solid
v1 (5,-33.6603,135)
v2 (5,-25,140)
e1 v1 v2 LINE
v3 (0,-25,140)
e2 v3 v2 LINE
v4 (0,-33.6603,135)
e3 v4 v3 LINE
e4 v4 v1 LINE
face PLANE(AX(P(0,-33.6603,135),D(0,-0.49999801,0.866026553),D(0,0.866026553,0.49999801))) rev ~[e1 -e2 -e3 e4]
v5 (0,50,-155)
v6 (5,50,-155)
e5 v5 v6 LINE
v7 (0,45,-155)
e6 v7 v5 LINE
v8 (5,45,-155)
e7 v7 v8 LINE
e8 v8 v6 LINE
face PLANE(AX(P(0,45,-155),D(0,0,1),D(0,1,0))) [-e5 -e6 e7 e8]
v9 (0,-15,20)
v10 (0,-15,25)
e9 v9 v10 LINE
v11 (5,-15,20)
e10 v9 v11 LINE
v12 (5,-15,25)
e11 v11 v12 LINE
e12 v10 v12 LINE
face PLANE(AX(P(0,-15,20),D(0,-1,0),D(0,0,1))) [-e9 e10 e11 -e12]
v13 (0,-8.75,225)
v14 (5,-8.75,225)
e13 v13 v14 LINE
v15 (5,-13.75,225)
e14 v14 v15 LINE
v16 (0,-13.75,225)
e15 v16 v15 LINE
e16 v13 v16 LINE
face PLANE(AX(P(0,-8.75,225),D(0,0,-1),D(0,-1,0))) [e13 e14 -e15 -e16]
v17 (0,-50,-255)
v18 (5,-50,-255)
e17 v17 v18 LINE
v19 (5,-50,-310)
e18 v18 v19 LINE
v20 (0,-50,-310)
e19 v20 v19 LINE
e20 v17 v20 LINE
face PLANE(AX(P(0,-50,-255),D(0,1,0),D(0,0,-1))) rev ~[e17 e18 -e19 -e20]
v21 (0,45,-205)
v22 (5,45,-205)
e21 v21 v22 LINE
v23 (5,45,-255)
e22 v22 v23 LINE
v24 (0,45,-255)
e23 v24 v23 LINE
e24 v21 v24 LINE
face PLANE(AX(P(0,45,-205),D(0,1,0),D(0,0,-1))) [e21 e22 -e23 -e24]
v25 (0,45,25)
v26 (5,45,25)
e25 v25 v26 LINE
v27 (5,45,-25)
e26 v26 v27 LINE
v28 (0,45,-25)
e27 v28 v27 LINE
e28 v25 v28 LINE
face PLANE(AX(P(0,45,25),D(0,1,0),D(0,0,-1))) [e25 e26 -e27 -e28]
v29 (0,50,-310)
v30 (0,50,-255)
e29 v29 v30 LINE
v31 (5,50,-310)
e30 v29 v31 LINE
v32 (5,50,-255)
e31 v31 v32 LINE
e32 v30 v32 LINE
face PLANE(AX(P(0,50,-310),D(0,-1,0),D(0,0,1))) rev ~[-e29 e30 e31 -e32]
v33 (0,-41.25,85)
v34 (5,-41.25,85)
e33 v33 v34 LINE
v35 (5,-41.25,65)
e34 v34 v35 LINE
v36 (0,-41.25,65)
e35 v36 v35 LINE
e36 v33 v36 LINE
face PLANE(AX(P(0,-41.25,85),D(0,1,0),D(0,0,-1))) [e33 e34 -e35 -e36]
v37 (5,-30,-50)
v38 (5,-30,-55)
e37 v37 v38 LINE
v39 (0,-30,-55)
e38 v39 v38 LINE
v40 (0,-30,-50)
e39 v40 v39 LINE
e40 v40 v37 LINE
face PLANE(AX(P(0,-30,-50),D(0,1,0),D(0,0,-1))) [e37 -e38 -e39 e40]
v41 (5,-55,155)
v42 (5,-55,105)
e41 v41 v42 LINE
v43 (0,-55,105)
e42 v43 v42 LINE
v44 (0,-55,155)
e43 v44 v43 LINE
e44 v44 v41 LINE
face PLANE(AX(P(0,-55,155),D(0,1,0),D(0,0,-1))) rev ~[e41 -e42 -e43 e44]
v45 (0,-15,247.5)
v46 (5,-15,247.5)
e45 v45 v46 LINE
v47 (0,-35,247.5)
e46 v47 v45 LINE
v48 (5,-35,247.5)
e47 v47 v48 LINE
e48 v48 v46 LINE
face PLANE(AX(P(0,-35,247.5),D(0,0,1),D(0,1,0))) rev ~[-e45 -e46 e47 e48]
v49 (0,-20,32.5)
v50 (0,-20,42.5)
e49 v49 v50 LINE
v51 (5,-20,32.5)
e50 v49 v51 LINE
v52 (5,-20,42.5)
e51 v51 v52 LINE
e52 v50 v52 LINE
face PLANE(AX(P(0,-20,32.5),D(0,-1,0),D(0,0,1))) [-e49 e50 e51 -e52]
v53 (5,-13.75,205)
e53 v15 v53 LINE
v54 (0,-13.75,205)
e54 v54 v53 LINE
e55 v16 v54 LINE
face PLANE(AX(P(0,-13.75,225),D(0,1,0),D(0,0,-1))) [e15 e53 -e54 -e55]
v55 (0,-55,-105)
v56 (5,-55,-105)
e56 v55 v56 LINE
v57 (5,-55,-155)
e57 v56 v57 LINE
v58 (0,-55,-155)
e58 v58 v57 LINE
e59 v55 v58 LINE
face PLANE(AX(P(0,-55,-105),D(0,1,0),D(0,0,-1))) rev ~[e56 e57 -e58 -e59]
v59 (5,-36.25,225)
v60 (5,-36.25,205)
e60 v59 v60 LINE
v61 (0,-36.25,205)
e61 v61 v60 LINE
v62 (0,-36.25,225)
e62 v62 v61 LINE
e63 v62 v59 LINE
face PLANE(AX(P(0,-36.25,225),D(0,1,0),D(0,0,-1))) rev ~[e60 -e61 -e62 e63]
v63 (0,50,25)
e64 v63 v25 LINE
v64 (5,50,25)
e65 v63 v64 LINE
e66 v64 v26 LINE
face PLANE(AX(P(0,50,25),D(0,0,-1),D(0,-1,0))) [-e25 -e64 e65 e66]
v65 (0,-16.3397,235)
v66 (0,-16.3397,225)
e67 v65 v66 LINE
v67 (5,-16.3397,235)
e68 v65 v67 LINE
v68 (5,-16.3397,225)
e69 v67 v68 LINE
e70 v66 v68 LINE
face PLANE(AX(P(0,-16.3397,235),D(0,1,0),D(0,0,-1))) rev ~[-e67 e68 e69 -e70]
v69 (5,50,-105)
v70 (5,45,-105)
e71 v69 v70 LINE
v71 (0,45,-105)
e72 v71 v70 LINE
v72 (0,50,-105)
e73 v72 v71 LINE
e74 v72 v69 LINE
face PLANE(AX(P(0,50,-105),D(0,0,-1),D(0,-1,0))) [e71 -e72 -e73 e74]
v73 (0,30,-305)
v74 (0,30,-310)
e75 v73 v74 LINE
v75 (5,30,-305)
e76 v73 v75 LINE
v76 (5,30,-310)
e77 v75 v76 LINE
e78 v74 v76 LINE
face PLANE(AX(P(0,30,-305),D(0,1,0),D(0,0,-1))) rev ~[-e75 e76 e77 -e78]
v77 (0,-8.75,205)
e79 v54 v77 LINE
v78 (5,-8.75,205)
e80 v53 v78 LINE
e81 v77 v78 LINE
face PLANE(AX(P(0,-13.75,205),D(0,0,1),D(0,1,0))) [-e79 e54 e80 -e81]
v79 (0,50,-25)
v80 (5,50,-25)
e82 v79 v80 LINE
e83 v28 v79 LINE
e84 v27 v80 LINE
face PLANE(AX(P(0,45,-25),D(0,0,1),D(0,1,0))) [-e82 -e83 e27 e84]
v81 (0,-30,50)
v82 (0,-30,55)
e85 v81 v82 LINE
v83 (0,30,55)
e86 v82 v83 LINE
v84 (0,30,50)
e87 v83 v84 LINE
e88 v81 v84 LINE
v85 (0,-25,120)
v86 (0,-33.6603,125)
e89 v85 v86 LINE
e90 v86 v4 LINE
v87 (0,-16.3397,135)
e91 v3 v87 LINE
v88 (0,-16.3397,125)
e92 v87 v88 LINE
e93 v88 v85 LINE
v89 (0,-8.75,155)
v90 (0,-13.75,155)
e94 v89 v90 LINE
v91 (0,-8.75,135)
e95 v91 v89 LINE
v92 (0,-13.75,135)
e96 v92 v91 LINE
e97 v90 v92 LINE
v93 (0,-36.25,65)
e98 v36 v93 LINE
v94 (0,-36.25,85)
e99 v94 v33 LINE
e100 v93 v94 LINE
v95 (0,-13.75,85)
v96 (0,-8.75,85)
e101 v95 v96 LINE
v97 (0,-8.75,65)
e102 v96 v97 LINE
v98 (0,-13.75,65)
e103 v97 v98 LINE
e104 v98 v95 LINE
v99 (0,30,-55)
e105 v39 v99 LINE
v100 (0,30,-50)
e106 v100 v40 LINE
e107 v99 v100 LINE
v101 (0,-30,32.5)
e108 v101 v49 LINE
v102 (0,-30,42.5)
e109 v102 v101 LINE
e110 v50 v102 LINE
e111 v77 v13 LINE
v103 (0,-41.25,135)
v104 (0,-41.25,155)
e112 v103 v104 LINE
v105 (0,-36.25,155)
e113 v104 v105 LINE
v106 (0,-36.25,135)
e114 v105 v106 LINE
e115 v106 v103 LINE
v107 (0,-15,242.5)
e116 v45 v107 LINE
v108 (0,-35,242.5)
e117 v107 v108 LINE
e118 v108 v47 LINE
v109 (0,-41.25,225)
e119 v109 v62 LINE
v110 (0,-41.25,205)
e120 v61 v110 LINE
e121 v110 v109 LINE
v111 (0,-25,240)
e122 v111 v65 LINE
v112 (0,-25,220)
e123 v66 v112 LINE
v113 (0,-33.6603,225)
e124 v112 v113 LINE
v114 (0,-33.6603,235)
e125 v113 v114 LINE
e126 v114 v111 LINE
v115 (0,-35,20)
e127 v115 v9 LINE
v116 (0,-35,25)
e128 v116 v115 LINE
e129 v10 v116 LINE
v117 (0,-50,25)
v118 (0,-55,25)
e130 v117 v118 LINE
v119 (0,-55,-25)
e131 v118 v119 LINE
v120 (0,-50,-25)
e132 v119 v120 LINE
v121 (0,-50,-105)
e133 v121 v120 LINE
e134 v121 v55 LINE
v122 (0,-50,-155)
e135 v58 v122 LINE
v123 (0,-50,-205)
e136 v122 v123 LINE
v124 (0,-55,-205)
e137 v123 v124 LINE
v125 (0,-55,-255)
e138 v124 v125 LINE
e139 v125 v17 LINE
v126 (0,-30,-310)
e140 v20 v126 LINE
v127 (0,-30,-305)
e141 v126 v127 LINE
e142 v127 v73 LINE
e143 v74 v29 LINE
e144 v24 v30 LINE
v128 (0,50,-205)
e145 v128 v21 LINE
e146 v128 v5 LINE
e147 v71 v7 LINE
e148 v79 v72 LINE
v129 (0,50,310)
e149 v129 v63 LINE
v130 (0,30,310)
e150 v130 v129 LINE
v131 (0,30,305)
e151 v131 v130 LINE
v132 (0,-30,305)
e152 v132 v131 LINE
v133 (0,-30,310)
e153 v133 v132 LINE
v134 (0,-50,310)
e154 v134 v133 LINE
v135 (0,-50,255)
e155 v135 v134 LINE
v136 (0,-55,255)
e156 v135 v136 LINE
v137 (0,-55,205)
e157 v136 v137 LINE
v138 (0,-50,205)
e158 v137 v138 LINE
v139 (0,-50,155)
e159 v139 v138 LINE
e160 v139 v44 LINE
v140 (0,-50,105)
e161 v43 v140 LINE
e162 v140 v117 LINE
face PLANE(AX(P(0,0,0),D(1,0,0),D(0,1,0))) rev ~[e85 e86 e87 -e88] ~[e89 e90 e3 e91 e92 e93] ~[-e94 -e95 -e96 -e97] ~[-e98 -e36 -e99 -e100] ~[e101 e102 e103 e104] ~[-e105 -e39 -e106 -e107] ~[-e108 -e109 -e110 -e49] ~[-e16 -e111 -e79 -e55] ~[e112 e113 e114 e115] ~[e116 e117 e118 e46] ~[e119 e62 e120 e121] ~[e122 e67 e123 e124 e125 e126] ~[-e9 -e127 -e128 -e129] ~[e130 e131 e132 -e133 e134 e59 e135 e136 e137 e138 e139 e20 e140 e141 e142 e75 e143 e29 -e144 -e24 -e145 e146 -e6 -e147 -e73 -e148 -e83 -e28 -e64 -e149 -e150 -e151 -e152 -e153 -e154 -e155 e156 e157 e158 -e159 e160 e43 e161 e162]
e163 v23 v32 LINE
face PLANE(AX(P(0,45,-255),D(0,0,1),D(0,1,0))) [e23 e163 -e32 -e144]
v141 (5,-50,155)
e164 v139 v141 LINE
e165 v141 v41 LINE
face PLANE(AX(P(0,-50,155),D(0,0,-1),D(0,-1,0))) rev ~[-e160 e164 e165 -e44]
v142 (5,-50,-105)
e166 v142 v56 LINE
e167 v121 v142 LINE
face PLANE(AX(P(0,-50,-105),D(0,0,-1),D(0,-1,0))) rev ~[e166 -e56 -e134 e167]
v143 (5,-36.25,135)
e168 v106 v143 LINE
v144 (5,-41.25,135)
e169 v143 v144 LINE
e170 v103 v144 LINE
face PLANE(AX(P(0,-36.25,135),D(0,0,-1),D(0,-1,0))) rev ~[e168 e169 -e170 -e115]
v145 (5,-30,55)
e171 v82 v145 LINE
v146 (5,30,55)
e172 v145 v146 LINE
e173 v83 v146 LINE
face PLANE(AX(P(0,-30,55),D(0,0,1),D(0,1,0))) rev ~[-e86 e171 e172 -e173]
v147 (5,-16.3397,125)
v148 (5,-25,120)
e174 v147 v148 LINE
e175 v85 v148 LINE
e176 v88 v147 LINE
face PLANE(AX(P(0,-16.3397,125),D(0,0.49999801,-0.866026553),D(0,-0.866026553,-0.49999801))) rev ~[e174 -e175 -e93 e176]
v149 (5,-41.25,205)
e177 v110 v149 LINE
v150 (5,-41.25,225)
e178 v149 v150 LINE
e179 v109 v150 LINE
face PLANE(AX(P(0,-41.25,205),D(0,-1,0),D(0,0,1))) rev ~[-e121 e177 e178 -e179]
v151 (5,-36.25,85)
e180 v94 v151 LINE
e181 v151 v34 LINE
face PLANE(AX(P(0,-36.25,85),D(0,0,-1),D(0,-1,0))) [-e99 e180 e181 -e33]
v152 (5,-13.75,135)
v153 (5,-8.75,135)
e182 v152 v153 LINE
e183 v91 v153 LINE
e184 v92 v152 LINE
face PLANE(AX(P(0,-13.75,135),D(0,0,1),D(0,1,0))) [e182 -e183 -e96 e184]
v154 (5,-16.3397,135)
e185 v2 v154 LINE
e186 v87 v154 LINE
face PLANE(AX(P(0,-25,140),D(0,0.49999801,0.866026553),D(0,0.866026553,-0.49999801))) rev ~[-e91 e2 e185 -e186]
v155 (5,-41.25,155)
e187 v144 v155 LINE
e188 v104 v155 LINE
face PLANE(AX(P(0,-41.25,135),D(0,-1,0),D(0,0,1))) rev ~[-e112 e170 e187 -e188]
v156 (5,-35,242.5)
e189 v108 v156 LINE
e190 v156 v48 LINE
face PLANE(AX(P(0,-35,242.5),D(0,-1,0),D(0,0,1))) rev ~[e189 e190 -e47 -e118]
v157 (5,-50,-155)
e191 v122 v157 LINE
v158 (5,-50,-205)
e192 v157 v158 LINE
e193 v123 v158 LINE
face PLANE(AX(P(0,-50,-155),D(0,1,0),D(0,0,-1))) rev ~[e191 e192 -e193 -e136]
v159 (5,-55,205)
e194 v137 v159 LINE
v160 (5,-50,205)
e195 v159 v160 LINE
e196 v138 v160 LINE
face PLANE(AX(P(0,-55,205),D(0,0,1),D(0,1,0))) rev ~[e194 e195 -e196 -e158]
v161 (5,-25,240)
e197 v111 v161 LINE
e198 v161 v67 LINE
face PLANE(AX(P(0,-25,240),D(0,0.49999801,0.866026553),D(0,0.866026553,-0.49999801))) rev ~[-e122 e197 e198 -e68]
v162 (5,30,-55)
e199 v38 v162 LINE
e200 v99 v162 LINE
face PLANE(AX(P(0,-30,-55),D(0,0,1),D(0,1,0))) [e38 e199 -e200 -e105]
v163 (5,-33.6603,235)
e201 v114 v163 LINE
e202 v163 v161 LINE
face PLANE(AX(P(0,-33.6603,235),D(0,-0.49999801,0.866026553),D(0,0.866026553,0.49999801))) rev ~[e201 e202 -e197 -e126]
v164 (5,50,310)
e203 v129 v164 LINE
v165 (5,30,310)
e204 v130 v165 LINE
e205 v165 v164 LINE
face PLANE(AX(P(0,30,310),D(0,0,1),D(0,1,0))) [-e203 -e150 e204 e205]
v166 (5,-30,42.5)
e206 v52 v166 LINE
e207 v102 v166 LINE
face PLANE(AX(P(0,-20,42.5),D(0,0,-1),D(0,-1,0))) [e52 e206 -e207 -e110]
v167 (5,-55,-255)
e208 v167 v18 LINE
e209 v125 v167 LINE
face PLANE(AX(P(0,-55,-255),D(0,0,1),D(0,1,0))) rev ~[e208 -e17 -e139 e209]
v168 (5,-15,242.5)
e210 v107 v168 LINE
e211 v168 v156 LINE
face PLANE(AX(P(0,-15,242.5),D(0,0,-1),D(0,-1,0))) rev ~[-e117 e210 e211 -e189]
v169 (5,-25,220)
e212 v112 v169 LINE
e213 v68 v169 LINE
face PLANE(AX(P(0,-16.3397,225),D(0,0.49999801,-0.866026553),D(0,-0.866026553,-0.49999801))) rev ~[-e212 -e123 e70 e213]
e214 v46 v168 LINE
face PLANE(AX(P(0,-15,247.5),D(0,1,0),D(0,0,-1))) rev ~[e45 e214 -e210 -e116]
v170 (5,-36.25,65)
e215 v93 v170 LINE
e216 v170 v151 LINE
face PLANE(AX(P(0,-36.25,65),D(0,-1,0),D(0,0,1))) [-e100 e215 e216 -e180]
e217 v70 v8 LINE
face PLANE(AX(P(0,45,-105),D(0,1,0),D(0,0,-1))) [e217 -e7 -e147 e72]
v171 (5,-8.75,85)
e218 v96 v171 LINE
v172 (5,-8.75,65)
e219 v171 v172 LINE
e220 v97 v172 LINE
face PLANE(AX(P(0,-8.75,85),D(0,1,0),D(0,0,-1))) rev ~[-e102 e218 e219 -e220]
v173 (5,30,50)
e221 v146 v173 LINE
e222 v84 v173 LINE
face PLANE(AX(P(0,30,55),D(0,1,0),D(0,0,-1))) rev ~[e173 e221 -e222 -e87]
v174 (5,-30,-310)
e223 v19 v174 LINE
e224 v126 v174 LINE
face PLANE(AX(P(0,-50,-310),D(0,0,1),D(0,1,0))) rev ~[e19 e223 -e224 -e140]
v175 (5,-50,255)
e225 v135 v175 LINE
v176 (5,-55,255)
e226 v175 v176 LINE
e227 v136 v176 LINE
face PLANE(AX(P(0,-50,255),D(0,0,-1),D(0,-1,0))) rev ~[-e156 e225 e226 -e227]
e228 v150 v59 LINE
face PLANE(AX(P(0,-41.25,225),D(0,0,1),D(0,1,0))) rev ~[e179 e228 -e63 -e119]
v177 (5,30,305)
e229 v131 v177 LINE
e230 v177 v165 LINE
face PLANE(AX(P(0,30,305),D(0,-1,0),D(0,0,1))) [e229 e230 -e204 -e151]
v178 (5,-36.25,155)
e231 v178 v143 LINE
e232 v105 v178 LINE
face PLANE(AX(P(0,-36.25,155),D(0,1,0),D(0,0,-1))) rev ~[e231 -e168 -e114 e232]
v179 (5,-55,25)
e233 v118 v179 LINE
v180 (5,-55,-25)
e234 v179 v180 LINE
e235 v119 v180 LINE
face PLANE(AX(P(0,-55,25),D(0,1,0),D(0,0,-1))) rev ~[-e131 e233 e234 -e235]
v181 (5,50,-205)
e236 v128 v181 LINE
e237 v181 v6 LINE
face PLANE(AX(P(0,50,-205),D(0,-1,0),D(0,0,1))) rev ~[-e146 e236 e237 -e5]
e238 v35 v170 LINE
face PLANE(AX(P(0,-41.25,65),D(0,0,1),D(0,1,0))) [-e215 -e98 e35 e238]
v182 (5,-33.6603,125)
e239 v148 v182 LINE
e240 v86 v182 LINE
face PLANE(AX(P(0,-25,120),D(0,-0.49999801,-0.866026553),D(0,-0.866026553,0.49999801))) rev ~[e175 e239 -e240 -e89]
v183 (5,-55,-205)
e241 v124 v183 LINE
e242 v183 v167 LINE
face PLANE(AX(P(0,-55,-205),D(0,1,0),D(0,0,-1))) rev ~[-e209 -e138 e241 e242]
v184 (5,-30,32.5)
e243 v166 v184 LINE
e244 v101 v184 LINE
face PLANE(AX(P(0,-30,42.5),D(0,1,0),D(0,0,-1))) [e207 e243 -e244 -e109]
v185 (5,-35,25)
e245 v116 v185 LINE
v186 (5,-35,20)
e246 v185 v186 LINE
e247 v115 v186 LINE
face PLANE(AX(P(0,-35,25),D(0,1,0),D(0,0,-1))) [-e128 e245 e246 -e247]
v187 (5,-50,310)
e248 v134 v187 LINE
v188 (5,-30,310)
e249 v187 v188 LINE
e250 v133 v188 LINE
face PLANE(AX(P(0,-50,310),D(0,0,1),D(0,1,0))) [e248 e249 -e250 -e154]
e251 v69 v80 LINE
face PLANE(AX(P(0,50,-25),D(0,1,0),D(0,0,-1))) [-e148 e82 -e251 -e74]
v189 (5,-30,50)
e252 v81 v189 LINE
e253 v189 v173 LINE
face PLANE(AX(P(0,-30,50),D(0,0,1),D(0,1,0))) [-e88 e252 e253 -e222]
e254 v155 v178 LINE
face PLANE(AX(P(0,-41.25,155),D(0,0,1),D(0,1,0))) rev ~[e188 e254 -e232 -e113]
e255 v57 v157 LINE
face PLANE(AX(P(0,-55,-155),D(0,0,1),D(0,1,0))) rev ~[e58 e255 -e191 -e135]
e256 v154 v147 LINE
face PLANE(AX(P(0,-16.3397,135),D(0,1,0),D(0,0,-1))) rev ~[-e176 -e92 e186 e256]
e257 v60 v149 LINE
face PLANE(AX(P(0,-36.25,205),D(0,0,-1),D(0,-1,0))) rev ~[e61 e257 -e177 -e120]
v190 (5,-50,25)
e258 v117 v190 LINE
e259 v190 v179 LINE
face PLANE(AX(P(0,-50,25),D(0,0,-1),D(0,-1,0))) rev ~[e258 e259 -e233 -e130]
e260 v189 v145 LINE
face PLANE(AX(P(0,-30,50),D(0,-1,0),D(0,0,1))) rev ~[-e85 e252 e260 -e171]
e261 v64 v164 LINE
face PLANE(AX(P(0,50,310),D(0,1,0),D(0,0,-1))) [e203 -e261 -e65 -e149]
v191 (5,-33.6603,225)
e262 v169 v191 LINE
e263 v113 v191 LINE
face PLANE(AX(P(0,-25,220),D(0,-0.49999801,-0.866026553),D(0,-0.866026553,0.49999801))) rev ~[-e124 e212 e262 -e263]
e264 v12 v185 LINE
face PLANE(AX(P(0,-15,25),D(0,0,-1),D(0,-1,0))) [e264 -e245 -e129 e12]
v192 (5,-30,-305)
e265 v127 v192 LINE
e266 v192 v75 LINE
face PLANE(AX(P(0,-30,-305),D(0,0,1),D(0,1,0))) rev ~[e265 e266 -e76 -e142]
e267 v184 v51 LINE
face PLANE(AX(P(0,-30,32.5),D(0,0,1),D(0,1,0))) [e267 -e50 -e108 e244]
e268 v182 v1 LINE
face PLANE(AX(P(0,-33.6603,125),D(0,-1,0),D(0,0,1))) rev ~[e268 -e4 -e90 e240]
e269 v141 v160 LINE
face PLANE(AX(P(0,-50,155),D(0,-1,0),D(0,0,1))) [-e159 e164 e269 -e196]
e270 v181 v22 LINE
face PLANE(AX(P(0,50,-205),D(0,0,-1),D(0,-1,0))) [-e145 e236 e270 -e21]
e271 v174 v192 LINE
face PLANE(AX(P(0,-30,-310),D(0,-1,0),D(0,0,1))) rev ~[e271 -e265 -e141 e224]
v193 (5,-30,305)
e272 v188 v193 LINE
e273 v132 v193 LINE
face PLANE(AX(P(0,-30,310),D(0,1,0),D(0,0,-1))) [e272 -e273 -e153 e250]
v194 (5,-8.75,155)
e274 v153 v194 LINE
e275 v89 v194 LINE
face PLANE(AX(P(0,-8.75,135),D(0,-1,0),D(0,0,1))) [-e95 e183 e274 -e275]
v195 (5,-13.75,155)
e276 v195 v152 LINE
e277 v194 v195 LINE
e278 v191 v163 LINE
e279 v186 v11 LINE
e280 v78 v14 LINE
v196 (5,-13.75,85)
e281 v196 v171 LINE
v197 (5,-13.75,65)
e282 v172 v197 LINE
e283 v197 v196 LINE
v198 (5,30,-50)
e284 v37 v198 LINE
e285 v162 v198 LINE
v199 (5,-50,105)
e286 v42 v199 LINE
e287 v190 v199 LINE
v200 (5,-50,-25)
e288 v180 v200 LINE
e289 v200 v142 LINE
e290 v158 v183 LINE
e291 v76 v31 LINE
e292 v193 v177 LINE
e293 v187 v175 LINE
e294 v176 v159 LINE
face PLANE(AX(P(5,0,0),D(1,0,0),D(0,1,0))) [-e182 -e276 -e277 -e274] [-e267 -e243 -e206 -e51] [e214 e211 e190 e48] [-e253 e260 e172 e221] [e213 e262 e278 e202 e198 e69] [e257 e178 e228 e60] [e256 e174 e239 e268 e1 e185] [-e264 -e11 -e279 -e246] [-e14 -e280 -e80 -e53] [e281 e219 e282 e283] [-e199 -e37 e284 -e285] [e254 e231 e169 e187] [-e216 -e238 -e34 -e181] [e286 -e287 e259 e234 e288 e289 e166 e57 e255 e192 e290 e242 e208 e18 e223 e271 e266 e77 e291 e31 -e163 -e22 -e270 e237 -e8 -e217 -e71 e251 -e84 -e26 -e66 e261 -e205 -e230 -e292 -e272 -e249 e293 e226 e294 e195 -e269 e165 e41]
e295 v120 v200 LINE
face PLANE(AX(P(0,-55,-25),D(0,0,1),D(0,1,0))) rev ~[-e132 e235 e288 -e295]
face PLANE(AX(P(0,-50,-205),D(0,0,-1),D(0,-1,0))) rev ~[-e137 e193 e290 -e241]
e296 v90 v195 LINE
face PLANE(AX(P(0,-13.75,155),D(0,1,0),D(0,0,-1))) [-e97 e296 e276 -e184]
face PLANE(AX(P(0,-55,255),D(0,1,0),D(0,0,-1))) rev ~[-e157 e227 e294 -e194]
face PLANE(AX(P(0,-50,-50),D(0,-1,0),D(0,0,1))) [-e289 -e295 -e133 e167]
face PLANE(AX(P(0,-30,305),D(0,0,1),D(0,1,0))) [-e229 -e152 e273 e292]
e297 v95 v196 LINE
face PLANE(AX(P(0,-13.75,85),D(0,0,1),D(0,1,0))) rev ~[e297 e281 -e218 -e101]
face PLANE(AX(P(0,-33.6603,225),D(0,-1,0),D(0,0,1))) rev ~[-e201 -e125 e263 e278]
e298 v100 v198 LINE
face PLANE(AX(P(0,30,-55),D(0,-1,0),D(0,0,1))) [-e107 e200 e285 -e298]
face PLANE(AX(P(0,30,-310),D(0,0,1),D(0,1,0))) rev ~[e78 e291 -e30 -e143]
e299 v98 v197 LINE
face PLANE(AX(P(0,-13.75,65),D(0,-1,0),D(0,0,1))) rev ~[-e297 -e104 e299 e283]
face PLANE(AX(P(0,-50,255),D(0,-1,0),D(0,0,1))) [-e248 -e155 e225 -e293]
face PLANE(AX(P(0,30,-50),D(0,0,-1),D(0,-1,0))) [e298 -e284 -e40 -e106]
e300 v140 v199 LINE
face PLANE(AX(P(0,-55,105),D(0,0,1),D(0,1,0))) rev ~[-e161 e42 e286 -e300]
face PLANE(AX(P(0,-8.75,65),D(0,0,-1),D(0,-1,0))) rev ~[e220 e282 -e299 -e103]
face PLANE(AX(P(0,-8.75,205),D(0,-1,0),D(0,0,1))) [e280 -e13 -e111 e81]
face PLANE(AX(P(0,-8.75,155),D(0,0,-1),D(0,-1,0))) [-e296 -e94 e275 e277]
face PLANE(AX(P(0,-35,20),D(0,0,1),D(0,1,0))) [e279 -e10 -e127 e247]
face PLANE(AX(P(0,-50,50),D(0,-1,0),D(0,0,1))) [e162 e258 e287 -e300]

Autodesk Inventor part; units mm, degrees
ref_plane "YZ Plane" through (0, 0, 0) normal (1, 0, 0) x (0, 1, 0)
ref_plane "XZ Plane" through (0, 0, 0) normal (0, 1, 0) x (-1, 0, 0)
ref_plane "XY Plane" through (0, 0, 0) normal (0, 0, 1) x (1, 0, 0)
sketch "Sketch1" plane through (0, 0, 0) normal (1, 0, 0) x (0, 1, 0)
  line L0 (-50, 50) -> (50, 50)
  line L1 (50, 50) -> (50, -50)
  line L2 (50, -50) -> (-50, -50)
  line L3 (-50, -50) -> (-50, 50)
  line L4 (-50, 50) -> (50, -50) construction
  line L5 (50, 50) -> (-50, -50) construction
  line L6 (50, 50) -> (-50, 50)
  line L7 (-50, 50) -> (-50, 310)
  line L8 (-50, 310) -> (50, 310)
  line L9 (50, 310) -> (50, 50)
  line L10 (50, -50) -> (-50, -50)
  line L11 (-50, -50) -> (-50, -310)
  line L12 (-50, -310) -> (50, -310)
  line L13 (50, -310) -> (50, -50)
  line L14 (-50, 255) -> (-55, 255)
  line L15 (-55, 255) -> (-55, 205)
  line L16 (-55, 205) -> (-50, 205)
  line L17 (-50, 205) -> (-50, 255)
  line L18 (-50, 155) -> (-55, 155)
  line L19 (-55, 155) -> (-55, 105)
  line L20 (-55, 105) -> (-50, 105)
  line L21 (-50, 105) -> (-50, 155)
  line L22 (-50, 25) -> (-55, 25)
  line L23 (-55, 25) -> (-55, -25)
  line L24 (-55, -25) -> (-50, -25)
  line L25 (-50, -25) -> (-50, 25)
  line L26 (-50, -105) -> (-55, -105)
  line L27 (-55, -105) -> (-55, -155)
  line L28 (-55, -155) -> (-50, -155)
  line L29 (-50, -155) -> (-50, -105)
  line L30 (-50, -205) -> (-55, -205)
  line L31 (-55, -205) -> (-55, -255)
  line L32 (-55, -255) -> (-50, -255)
  line L33 (-50, -255) -> (-50, -205)
  line L34 (50, 310) -> (30, 310)
  line L35 (50, 305) -> (50, 310)
  line L36 (-50, 310) -> (-30, 310)
  line L37 (-50, 305) -> (-50, 310)
  line L38 (30, 50) -> (-30, 50)
  line L39 (-30, 50) -> (-30, 55)
  line L40 (-30, 55) -> (30, 55)
  line L41 (30, 55) -> (30, 50)
  line L42 (30, -50) -> (-21.1124, -50)
  line L43 (50, 0) -> (-50, 0) construction
  line L44 (-30, -50) -> (-30, -55)
  line L45 (-30, -55) -> (30, -55)
  line L46 (30, -55) -> (30, -50)
  line L47 (30, 310) -> (-30, 310)
  line L48 (-30, 310) -> (-30, 305)
  line L49 (-30, 305) -> (30, 305)
  line L50 (30, 305) -> (30, 310)
  line L51 (-30, -310) -> (-30, -305)
  line L52 (-30, -305) -> (30, -305)
  line L53 (30, -305) -> (30, -310)
  line L54 (50, 25) -> (45, 25)
  line L55 (45, 25) -> (45, -25)
  line L56 (45, -25) -> (50, -25)
  line L57 (50, -25) -> (50, 25)
  line L58 (50, -105) -> (45, -105)
  line L59 (45, -105) -> (45, -155)
  line L60 (45, -155) -> (50, -155)
  line L61 (50, -155) -> (50, -105)
  line L62 (50, -205) -> (45, -205)
  line L63 (45, -205) -> (45, -255)
  line L64 (45, -255) -> (50, -255)
  line L65 (50, -255) -> (50, -205)
  line L66 (-33.6603, 235) -> (-25, 240)
  line L67 (-25, 240) -> (-16.3397, 235)
  line L68 (-16.3397, 235) -> (-16.3397, 225)
  line L69 (-16.3397, 225) -> (-25, 220)
  line L70 (-25, 220) -> (-33.6603, 225)
  line L71 (-33.6603, 225) -> (-33.6603, 235)
  line L72 (-33.6603, 135) -> (-25, 140)
  line L73 (-25, 140) -> (-16.3397, 135)
  line L74 (-16.3397, 135) -> (-16.3397, 125)
  line L75 (-16.3397, 125) -> (-25, 120)
  line L76 (-25, 120) -> (-33.6603, 125)
  line L77 (-33.6603, 125) -> (-33.6603, 135)
  line L78 (-8.75, 225) -> (-13.75, 225)
  line L79 (-13.75, 225) -> (-13.75, 205)
  line L80 (-13.75, 205) -> (-8.75, 205)
  line L81 (-8.75, 205) -> (-8.75, 225)
  line L82 (-13.75, 135) -> (-8.75, 135)
  line L83 (-8.75, 135) -> (-8.75, 155)
  line L84 (-8.75, 155) -> (-13.75, 155)
  line L85 (-13.75, 155) -> (-13.75, 135)
  line L86 (-13.75, 85) -> (-8.75, 85)
  line L87 (-8.75, 85) -> (-8.75, 65)
  line L88 (-8.75, 65) -> (-13.75, 65)
  line L89 (-13.75, 65) -> (-13.75, 85)
  line L90 (-15, 242.5) -> (-35, 242.5)
  line L91 (-35, 242.5) -> (-35, 247.5)
  line L92 (-35, 247.5) -> (-15, 247.5)
  line L93 (-15, 247.5) -> (-15, 242.5)
  line L94 (-25, 361.7934) -> (-25, -98.4217) construction
  line L95 (-41.25, 65) -> (-36.25, 65)
  line L96 (-36.25, 65) -> (-36.25, 85)
  line L97 (-36.25, 85) -> (-41.25, 85)
  line L98 (-41.25, 85) -> (-41.25, 65)
  line L99 (-36.25, 135) -> (-41.25, 135)
  line L100 (-36.25, 155) -> (-36.25, 135)
  line L101 (-41.25, 135) -> (-41.25, 155)
  line L102 (-41.25, 155) -> (-36.25, 155)
  line L103 (-36.25, 205) -> (-41.25, 205)
  line L104 (-36.25, 225) -> (-36.25, 205)
  line L105 (-41.25, 225) -> (-36.25, 225)
  line L106 (-41.25, 205) -> (-41.25, 225)
  line L107 (-35, 20) -> (-15, 20)
  line L108 (-15, 20) -> (-15, 25)
  line L109 (-15, 25) -> (-35, 25)
  line L110 (-35, 25) -> (-35, 20)
  line L111 (-20, 42.5) -> (-30, 42.5)
  line L112 (-30, 42.5) -> (-30, 32.5)
  line L113 (-30, 32.5) -> (-20, 32.5)
  line L114 (-20, 32.5) -> (-20, 42.5)
  point P0 (0, 0)
  point P1 (-52.5, 155)
  point P2 (-52.5, 205)
  point P3 (-50, 205)
  point P4 (-50, 105)
  point P5 (-50, -155)
  point P6 (-50, -255)
  point P7 (30, -50)
  point P8 (-30, -50)
  point P9 (30, 50)
  point P10 (30, 307.5)
  point P11 (-30, -310)
  point P12 (30, 310)
  point P13 (-30, 310)
  point P14 (50, -25)
  point P15 (50, -255)
  point P16 (50, -155)
  point P17 (-25, 230)
  point P18 (-25, 130)
  point P19 (-13.75, 145)
  point P20 (-15, 245)
  point P21 (-36.25, 145)
  point P22 (-20, 37.5)
  dimension "d0" = 100
  dimension "d1" = 260
  dimension "d2" = 100
  dimension "d3" = 260
  dimension "d4" = 50
  dimension "d5" = 50
  dimension "d6" = 50
  dimension "d7" = 50
  dimension "d8" = 50
  dimension "d9" = 55
  dimension "d10" = 50
  dimension "d11" = 25
  dimension "d12" = 55
  dimension "d13" = 50
  dimension "d14" = 5
  dimension "d20" = 5
  dimension "d21" = 5
  dimension "d23" = 20
  dimension "d24" = 50
  dimension "d25" = 5
  dimension "d26" = 20
  dimension "d27" = 10
  dimension "d28" = 25
  dimension "d29" = 16.3397
  dimension "d30" = 25
  dimension "d31" = 10
  dimension "d32" = 25
  dimension "d33" = 16.3397
  dimension "d34" = 25
  dimension "d38" = 20
  dimension "d40" = 5
  dimension "d41" = 20
  dimension "d42" = 5
  dimension "d45" = 20
  dimension "d46" = 5
  dimension "d48" = 20
  dimension "d49" = 5
  dimension "d51" = 25
  dimension "d52" = 50
  dimension "d53" = 50
  dimension "d54" = 11.25
  dimension "d55" = 12.5
  dimension "d56" = 10
  dimension "d57" = 20
  dimension "d58" = 5
  dimension "d59" = 40
  dimension "d60" = 10
  dimension "d61" = 10
  dimension "d62" = 10
  dimension "d63" = 5
  dimension "d64" = 7.5
extrude "Extrusion1" add sketch "Sketch1" along normal blind 5 contours L7 L8 L48 L49 L50 L9 L0 L41 L40 L39 | L0 L1 L54 L55 L56 L2 L3 | L3 L24 L23 L22 | L20 L19 L18 L7 | L2 L44 L45 L46 L13 L58 L59 L60 L62 L63 L64 L12 L53 L52 L51 L11 | L16 L15 L14 L7 | L11 L28 L27 L26 | L11 L32 L31 L30
equation "\"BendRadius\" = Thickness"
equation "\"BendReliefWidth\" = Thickness"
equation "\"BendReliefDepth\" = 0.5 * Thickness"
equation "\"CornerReliefSize\" = 4 * Thickness"
equation "\"MinimumRemnant\" = 2 * Thickness"
equation "\"TransitionRadius\" = BendRadius"
equation "\"JacobiRadiusSize\" = BendRadius"
equation "\"GapSize\" = Thickness"
equation "\"Thickness\" = 3.048"
properties part number "Lat3" material "Wood (Cherry)"
